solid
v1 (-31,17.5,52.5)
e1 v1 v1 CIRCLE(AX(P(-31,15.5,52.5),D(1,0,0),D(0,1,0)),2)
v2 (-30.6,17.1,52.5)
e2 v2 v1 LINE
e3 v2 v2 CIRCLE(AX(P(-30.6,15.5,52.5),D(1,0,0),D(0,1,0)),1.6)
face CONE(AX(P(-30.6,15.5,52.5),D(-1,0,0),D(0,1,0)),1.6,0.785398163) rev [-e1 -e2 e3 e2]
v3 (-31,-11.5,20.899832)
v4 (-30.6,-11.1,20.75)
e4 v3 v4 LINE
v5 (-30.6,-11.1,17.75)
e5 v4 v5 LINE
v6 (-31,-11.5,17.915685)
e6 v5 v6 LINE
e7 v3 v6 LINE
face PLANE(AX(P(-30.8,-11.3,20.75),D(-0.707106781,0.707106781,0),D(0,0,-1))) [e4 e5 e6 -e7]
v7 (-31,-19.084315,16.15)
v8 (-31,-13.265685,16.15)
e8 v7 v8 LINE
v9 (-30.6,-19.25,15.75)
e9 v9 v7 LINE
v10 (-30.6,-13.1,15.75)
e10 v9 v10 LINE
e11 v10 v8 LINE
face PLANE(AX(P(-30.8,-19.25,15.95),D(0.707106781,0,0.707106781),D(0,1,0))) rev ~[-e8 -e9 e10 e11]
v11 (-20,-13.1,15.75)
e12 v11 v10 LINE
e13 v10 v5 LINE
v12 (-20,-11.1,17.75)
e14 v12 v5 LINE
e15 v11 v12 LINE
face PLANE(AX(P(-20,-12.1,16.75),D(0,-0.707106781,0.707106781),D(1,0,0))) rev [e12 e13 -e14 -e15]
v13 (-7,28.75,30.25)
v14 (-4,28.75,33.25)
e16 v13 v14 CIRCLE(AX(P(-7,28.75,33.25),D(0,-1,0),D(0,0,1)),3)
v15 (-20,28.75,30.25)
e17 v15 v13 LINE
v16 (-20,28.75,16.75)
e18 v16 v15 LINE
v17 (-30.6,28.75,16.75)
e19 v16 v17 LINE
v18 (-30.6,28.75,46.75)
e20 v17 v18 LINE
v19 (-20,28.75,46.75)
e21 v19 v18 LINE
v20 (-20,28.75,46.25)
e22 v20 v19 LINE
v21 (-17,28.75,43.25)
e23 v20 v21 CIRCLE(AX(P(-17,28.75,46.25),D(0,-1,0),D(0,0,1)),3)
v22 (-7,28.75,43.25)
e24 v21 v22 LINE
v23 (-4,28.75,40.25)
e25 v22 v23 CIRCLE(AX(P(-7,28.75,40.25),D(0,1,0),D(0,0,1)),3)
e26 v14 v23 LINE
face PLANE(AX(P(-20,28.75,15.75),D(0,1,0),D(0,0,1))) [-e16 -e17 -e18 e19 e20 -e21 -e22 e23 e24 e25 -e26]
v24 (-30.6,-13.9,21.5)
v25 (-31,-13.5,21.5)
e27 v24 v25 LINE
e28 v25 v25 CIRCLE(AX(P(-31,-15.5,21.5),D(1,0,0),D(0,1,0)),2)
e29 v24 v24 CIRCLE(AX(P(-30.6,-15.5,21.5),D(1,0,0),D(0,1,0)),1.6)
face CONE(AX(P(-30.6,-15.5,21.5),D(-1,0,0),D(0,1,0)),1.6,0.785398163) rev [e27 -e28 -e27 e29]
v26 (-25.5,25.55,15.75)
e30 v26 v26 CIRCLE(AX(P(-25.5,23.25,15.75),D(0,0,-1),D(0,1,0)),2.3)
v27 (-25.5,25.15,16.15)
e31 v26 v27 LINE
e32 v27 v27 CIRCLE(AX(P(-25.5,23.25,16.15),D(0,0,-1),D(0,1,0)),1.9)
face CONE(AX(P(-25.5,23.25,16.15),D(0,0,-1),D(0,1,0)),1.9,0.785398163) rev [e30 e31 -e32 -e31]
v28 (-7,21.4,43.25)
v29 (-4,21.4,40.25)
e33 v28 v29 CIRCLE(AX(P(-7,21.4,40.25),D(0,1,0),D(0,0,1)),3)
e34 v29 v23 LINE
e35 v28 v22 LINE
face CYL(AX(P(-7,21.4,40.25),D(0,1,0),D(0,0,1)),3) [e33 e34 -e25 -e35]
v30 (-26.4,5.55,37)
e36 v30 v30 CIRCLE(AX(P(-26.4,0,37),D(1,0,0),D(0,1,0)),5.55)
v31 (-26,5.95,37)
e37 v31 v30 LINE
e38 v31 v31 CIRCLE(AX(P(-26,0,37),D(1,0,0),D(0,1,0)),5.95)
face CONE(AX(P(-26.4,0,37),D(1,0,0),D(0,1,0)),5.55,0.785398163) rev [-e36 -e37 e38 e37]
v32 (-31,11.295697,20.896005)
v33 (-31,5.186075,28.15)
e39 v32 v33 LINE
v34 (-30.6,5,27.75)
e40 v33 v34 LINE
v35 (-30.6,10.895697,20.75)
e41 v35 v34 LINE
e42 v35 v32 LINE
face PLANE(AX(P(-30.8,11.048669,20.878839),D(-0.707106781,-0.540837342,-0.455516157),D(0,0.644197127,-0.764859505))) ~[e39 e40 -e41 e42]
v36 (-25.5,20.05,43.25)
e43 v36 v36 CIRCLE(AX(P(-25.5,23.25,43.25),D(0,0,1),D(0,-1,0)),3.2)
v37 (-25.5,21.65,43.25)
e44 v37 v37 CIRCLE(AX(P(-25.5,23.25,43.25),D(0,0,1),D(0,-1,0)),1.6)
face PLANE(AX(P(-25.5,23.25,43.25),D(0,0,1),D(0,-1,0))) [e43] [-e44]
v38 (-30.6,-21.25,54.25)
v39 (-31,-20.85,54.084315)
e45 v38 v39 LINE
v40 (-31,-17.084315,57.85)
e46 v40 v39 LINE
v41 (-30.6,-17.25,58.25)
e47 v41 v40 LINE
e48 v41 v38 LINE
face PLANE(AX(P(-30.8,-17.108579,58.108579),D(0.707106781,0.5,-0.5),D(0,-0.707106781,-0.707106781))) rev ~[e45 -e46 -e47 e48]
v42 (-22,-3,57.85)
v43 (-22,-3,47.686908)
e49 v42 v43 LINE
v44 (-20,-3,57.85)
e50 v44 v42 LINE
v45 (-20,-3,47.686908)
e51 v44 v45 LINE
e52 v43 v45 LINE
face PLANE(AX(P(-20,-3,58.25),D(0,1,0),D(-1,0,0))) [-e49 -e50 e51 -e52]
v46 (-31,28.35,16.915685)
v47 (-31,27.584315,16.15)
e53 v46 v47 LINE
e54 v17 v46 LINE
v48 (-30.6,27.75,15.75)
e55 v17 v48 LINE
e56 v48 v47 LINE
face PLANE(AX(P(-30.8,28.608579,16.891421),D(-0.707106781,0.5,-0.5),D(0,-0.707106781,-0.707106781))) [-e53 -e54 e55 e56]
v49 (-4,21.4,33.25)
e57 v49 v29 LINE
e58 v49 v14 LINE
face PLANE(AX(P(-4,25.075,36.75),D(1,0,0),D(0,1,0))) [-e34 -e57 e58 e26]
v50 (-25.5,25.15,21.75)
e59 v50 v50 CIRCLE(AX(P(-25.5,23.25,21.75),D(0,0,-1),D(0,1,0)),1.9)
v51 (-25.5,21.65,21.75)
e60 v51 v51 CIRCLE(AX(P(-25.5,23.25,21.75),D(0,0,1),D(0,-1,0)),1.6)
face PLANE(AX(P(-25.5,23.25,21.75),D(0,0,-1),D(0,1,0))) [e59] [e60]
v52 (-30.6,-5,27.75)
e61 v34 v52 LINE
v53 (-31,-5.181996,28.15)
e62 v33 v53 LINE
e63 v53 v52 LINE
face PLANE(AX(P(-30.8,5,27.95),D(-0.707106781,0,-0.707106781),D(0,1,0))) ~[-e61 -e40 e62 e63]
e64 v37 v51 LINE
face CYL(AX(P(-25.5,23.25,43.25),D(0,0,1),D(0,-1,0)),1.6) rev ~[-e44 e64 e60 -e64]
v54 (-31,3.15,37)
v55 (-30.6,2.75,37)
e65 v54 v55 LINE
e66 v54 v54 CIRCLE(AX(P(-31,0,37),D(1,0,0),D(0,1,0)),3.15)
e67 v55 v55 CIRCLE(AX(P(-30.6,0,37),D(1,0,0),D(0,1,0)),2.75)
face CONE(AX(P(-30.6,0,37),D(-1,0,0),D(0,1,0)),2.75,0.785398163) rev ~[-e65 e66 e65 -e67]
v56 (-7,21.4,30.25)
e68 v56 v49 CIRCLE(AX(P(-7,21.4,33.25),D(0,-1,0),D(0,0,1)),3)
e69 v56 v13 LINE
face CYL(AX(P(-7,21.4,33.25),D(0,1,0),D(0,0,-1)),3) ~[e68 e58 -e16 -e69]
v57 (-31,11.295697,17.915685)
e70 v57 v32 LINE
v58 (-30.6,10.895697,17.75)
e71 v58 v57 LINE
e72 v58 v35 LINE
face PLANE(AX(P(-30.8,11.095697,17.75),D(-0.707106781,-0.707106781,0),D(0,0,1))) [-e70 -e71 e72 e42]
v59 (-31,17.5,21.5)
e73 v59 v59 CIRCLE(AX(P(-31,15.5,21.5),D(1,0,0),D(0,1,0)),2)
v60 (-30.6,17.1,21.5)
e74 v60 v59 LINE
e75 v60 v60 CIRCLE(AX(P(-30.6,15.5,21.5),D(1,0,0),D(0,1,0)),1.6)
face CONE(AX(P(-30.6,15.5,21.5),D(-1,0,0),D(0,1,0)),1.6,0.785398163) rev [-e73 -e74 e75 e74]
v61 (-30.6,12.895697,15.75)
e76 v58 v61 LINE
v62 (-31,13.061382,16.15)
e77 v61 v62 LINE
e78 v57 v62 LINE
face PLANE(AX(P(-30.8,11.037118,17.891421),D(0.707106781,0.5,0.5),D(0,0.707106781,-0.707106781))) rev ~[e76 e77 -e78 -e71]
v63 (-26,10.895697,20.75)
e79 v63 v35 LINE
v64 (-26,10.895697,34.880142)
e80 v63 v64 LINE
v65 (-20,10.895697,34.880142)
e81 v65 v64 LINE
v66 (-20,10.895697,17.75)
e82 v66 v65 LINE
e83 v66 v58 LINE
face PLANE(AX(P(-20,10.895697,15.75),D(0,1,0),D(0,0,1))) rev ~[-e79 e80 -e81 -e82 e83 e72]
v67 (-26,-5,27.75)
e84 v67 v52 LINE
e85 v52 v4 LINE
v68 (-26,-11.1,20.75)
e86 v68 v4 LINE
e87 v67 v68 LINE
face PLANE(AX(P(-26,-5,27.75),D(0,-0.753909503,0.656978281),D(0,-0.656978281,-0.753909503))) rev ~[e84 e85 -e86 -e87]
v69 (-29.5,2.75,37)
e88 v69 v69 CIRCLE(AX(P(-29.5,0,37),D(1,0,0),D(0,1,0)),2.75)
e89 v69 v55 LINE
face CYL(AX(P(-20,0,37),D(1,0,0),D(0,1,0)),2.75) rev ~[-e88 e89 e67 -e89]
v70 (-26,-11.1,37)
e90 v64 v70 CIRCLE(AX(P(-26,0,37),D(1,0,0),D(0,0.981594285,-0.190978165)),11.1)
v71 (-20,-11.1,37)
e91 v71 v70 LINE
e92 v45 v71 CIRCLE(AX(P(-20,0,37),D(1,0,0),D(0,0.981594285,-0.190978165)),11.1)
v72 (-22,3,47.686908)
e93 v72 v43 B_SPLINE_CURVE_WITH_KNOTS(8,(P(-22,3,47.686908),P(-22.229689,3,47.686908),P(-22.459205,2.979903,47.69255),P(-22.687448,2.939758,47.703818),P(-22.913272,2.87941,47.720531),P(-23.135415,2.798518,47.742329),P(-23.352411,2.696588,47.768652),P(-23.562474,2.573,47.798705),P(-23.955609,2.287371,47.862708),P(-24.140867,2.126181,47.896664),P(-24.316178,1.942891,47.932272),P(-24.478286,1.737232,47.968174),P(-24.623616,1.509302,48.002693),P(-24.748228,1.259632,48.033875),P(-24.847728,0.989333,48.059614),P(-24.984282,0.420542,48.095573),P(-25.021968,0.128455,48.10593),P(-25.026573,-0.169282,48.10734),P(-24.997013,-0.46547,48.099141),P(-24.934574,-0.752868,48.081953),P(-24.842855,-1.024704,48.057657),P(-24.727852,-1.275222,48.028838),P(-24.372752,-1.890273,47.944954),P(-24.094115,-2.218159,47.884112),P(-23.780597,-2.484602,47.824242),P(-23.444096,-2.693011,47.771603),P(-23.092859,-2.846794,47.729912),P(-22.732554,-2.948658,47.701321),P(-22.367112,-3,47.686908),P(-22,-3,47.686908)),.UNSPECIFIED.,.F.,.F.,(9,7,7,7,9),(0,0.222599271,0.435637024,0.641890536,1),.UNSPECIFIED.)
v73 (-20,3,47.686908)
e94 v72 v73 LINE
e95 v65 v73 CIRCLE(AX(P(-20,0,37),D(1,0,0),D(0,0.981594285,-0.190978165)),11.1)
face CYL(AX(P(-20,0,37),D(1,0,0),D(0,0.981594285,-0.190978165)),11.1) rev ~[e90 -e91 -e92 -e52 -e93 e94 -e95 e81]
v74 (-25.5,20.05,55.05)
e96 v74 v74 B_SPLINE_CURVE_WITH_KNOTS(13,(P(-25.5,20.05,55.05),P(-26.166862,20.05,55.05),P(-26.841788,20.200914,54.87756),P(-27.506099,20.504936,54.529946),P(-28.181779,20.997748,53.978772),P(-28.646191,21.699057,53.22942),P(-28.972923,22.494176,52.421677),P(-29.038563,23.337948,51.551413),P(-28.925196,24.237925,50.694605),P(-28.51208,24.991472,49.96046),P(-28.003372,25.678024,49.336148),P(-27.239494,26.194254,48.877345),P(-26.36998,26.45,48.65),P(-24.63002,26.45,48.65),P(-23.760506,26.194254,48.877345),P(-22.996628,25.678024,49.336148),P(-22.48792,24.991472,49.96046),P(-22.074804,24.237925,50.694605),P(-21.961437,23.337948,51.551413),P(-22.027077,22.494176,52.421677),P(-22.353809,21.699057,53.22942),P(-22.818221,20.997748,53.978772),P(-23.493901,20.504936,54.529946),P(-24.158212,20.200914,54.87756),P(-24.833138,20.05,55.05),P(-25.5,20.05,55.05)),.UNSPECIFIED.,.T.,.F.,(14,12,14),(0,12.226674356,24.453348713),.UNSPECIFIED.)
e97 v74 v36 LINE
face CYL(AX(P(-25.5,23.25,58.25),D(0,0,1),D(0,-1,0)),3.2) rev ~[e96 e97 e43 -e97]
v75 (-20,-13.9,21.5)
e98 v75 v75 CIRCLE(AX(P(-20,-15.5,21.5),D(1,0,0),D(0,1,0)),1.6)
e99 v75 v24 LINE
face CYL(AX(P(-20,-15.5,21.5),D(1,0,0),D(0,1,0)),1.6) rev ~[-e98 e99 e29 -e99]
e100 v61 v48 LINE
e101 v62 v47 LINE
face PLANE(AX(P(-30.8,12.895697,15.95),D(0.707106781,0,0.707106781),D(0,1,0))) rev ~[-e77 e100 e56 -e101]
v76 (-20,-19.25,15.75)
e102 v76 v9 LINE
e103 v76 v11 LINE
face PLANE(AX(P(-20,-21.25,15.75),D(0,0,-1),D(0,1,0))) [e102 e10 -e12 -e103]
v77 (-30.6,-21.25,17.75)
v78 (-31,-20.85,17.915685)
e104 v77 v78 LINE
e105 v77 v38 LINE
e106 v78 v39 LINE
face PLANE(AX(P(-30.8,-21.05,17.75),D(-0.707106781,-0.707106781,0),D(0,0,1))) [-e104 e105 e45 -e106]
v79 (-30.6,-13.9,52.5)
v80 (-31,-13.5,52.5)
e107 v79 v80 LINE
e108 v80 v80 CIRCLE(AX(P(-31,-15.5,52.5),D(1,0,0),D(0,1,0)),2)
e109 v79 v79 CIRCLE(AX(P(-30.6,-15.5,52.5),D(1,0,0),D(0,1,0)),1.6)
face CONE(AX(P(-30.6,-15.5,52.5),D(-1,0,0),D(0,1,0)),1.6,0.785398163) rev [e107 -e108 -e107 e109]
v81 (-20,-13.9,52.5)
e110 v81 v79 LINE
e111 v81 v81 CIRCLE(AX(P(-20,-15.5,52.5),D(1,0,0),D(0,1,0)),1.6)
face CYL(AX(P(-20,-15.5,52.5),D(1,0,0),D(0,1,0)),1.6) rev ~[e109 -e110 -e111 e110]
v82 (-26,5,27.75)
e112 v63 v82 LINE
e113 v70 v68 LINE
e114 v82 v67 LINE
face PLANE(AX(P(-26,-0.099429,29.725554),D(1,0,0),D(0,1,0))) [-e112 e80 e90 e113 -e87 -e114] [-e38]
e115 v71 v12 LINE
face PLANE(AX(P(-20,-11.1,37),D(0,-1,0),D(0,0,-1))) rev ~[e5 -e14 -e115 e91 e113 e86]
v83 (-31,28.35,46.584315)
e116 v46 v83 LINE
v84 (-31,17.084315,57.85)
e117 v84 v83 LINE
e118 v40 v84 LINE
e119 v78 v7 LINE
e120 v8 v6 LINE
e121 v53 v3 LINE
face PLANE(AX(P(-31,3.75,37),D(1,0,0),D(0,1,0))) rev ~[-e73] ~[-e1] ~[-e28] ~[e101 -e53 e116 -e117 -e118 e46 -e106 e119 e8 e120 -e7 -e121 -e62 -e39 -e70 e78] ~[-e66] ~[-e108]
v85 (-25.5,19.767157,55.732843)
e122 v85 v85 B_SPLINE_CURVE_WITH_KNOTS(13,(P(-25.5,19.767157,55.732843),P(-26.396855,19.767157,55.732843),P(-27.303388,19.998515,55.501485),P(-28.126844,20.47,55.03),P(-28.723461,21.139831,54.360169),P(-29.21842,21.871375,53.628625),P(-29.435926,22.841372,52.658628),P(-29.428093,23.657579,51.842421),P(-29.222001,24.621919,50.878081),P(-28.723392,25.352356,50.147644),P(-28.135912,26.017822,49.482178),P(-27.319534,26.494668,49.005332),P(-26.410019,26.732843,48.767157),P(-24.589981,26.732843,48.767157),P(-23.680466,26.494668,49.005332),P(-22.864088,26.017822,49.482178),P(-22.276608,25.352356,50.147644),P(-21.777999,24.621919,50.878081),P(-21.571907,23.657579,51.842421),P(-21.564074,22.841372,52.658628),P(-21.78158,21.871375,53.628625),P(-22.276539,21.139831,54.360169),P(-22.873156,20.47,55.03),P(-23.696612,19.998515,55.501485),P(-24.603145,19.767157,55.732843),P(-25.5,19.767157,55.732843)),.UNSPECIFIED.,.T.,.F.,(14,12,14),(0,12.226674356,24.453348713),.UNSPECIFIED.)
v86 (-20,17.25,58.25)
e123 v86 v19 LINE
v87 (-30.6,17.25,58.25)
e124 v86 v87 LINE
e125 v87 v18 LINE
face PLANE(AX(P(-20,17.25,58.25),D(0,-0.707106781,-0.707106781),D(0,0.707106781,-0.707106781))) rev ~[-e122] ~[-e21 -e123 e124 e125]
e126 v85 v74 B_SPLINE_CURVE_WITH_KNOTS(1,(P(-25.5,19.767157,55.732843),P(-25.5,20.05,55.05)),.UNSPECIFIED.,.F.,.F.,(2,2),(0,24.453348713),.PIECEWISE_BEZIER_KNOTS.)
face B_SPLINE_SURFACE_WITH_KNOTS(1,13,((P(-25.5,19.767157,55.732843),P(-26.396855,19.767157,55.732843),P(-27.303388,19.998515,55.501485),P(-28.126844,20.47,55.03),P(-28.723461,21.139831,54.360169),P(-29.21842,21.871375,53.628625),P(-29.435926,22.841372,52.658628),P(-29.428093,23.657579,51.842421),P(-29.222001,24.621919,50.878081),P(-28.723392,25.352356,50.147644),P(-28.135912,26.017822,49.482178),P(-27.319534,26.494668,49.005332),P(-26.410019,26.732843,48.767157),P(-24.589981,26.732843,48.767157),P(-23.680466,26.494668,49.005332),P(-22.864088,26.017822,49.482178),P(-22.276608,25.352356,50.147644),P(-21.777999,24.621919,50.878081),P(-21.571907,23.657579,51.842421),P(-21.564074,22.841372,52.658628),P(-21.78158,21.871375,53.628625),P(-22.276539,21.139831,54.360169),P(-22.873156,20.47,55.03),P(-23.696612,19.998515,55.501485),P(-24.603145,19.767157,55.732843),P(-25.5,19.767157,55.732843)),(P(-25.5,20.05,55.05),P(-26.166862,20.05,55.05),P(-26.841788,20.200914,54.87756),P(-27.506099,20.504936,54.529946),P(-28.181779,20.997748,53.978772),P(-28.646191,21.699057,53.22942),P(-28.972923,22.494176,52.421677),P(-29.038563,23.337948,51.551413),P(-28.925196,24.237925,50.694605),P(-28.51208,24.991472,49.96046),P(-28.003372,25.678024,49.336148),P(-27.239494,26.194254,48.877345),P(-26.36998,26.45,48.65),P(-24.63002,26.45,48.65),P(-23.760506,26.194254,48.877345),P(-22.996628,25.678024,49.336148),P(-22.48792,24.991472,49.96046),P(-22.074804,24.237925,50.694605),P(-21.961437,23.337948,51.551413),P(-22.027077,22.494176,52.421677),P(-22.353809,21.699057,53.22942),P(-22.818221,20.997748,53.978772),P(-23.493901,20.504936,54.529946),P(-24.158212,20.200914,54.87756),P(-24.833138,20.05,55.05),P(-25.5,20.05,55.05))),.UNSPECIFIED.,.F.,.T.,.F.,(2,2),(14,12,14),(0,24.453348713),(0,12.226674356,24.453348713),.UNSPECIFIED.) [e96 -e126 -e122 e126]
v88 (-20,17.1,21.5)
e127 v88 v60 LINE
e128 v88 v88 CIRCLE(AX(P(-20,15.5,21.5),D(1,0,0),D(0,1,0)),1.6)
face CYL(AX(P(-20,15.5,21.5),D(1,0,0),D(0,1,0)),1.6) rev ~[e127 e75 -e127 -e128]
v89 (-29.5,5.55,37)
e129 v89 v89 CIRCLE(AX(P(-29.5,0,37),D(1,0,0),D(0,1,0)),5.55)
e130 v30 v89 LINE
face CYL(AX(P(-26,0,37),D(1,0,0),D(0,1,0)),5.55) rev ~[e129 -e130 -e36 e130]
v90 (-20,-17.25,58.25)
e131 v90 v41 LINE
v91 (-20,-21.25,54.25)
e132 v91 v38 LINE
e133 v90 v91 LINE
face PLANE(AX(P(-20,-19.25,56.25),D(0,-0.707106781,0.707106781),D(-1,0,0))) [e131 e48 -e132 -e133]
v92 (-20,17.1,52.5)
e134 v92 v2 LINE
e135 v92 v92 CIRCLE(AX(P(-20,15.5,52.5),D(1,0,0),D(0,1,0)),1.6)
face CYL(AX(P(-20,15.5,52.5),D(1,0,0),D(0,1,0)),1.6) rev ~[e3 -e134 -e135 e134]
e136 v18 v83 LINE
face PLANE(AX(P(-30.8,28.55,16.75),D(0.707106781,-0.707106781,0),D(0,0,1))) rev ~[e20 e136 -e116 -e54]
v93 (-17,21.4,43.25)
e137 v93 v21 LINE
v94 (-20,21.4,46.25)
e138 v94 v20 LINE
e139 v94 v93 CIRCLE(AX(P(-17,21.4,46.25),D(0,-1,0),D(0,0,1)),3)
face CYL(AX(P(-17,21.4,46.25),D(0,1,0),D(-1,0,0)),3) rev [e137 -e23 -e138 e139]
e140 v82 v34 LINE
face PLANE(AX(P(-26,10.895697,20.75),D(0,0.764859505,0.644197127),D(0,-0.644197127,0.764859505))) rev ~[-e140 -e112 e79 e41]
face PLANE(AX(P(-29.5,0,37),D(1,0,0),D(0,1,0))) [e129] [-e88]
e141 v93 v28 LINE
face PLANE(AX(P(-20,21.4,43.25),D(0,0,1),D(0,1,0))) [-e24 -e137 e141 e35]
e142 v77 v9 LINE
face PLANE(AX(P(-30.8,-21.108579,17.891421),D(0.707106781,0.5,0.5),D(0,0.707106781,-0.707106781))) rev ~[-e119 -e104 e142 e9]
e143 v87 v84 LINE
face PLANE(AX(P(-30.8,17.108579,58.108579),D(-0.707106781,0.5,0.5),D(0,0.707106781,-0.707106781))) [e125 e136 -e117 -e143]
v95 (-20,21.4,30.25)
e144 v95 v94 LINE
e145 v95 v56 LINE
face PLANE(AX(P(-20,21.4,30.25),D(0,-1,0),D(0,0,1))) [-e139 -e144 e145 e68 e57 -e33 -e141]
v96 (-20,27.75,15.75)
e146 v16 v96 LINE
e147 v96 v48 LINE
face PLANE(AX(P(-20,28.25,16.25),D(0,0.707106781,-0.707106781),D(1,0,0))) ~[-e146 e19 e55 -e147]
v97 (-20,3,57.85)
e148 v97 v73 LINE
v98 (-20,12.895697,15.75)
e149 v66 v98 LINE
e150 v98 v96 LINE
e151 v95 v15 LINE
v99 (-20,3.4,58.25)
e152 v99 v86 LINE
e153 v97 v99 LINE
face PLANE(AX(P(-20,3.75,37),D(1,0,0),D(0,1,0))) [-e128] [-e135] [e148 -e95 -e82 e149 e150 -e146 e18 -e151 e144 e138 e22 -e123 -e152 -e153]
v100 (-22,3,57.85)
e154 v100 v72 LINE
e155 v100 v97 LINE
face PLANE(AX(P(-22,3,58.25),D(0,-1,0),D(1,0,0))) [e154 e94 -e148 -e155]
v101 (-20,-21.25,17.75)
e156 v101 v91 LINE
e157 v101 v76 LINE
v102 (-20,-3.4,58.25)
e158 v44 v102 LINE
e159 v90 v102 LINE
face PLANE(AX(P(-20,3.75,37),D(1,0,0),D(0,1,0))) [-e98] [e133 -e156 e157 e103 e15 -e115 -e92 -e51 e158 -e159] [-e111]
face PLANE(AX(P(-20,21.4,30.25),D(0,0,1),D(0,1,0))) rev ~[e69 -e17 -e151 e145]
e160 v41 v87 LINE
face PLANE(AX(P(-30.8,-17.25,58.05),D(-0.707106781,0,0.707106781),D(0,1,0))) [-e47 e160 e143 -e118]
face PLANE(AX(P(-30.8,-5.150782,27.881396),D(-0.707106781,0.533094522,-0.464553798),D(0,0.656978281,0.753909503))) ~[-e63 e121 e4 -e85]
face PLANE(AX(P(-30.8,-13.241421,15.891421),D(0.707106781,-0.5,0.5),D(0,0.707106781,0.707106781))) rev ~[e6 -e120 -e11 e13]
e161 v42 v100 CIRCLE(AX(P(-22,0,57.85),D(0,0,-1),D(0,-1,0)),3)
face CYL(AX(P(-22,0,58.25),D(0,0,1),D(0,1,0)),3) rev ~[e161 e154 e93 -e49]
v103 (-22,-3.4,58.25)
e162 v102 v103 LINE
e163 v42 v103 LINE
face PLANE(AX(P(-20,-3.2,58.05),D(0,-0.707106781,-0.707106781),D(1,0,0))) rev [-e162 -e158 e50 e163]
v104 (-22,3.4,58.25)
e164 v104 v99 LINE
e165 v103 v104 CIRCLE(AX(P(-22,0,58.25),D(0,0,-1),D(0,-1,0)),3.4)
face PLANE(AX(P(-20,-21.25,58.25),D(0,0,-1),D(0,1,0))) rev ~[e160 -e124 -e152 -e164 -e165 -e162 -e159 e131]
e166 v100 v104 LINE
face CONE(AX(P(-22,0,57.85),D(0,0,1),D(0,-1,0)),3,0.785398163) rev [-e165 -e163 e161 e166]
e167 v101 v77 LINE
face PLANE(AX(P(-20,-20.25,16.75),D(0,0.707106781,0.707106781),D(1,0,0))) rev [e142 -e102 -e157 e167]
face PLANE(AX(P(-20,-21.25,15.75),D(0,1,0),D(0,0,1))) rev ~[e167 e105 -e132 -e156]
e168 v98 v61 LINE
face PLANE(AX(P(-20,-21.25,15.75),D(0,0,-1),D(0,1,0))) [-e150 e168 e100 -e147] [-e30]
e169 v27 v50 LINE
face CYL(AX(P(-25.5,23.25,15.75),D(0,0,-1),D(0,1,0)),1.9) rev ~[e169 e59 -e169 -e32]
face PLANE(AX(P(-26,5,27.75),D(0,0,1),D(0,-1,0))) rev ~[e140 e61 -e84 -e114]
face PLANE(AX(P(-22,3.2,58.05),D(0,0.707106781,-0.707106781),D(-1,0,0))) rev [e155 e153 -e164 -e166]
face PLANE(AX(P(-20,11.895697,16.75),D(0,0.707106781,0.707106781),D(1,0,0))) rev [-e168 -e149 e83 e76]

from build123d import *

# Parameters (mm, degrees)
SKETCH018_W        = 50
SKETCH018_H        = 42.5
SKETCH018_R        = 2.75
SKETCH018_R_2      = 1.6
PAD008_DEPTH       = 11
SKETCH027_R        = 3.2
POCKET012_DEPTH    = 15
SKETCH028_R        = 1.6
POCKET013_DEPTH    = 27.501
SKETCH029_W        = 7.35
SKETCH029_H        = 13
PAD009_DEPTH       = 16
POCKET014_DEPTH    = 11.001
FILLET_R           = 3
POCKET015_DEPTH    = 6
POCKET016_DEPTH    = 5.001
CHAMFER003011_SIZE = 4
CHAMFER003012_SIZE = 2
SKETCH033_R        = 1.9
POCKET017_DEPTH    = 6
CHAMFER003013_SIZE = 1
CHAMFER003014_SIZE = 0.4
POCKET020_DEPTH    = 11
CHAMFER003016_SIZE = 0.4
SKETCH038_R        = 5.55
POCKET021_DEPTH    = 3.5
CHAMFER003017_SIZE = 0.4


with BuildPart() as part:
    # Sketch018 → Pad008 (new body)
    with BuildSketch(Plane.YZ):
        with Locations((3.75, 37)):
            Rectangle(SKETCH018_W, SKETCH018_H)
        with Locations((0, 37)):
            Circle(SKETCH018_R, mode=Mode.SUBTRACT)
        with Locations((-15.5, 52.5)):
            Circle(SKETCH018_R_2, mode=Mode.SUBTRACT)
        with Locations((-15.5, 21.5)):
            Circle(SKETCH018_R_2, mode=Mode.SUBTRACT)
        with Locations((15.5, 21.5)):
            Circle(SKETCH018_R_2, mode=Mode.SUBTRACT)
        with Locations((15.5, 52.5)):
            Circle(SKETCH018_R_2, mode=Mode.SUBTRACT)
    extrude(amount=-PAD008_DEPTH)

    # Sketch027 (on Face4 of Pad008) → Pocket012 (cut)
    with BuildSketch(Plane(origin=(0, 0, 58.25), x_dir=(0, -1, 0), z_dir=(0, 0, 1))):
        with Locations((-23.25, -5.5)):
            Circle(SKETCH027_R)
    extrude(amount=-POCKET012_DEPTH, mode=Mode.SUBTRACT)

    # Sketch028 (on Face13 of Pocket012) → Pocket013 (cut, through all)
    with BuildSketch(Plane(origin=(0, 0, 43.25), x_dir=(0, -1, 0), z_dir=(0, 0, 1))):
        with Locations((-23.25, -5.5)):
            Circle(SKETCH028_R)
    extrude(amount=-POCKET013_DEPTH, mode=Mode.SUBTRACT)

    # Sketch029 (on Face4 of Pocket013) → Pad009 (join)
    with BuildSketch(Plane.YZ):
        with Locations((25.075, 36.75)):
            Rectangle(SKETCH029_W, SKETCH029_H)
    extrude(amount=PAD009_DEPTH)

    # Sketch030 (on Face4 of Pad009) → Pocket014 (cut, through all)
    with BuildSketch(Plane.YZ):
        Polygon((17.25, 58.25), (28.75, 46.75), (28.75, 58.25), align=None)
    extrude(amount=-POCKET014_DEPTH, mode=Mode.SUBTRACT)

    # Fillet
    fillet_edges = [part.edges().sort_by_distance(p)[0] for p in [
        (0, 25.075, 43.25),
        (16, 25.075, 43.25),
        (16, 25.075, 30.25),
    ]]
    fillet(fillet_edges, radius=FILLET_R)

    # Sketch031 (on Face1 of Fillet) → Pocket015 (cut)
    with BuildSketch(Plane.YZ):
        with BuildLine():
            ThreePointArc((10.895697, 34.880142), (1.06484, 48.048806), (-11.1, 37))
            Line((-11.1, 37), (-11.1, 15.75))
            Line((-11.1, 15.75), (10.895697, 15.75))
            Line((10.895697, 15.75), (10.895697, 34.880142))
        make_face()
    extrude(amount=-POCKET015_DEPTH, mode=Mode.SUBTRACT)

    # Sketch032 (on Face23 of Pocket015) → Pocket016 (cut, through all)
    with BuildSketch(Plane.YZ.offset(-6)):
        Polygon((-11.1, 15.75), (10.895697, 15.75), (10.895697, 20.75), (5, 27.75), (-5, 27.75), (-11.1, 20.75), align=None)
    extrude(amount=-POCKET016_DEPTH, mode=Mode.SUBTRACT)

    # Chamfer003011
    chamfer003011_edges = [part.edges().sort_by_distance(p)[0] for p in [
        (-5.5, -21.25, 58.25),
    ]]
    chamfer(chamfer003011_edges, length=CHAMFER003011_SIZE)

    # Chamfer003012
    chamfer003012_edges = [part.edges().sort_by_distance(p)[0] for p in [
        (-8.5, 10.895697, 15.75),
        (-8.5, -11.1, 15.75),
        (-5.5, -21.25, 15.75),
    ]]
    chamfer(chamfer003012_edges, length=CHAMFER003012_SIZE)

    # Sketch033 (on Face16 of Chamfer003012) → Pocket017 (cut)
    with BuildSketch(Plane.YX.offset(-15.75)):
        with Locations((23.25, -5.5)):
            Circle(SKETCH033_R)
    extrude(amount=-POCKET017_DEPTH, mode=Mode.SUBTRACT)

    # Chamfer003013
    chamfer003013_edges = [part.edges().sort_by_distance(p)[0] for p in [
        (-5.5, 28.75, 15.75),
    ]]
    chamfer(chamfer003013_edges, length=CHAMFER003013_SIZE)

    # Chamfer003014
    chamfer003014_edges = [part.edges().sort_by_distance(p)[0] for p in [
        (-11, 28.75, 31.75),
        (-11, 28.25, 16.25),
        (-11, 23, 52.5),
        (-11, 20.322848, 15.75),
        (-11, 0, 58.25),
        (-11, 11.895697, 16.75),
        (-11, -19.25, 56.25),
        (-11, 10.895697, 19.25),
        (-11, -21.25, 36),
        (-11, 7.947848, 24.25),
        (-11, -20.25, 16.75),
        (-11, 0, 27.75),
        (-11, -16.175, 15.75),
        (-11, -8.05, 24.25),
        (-11, -12.1, 16.75),
        (-11, -11.1, 19.25),
        (-11, 13.9, 21.5),
        (-11, 13.9, 52.5),
        (-11, -17.1, 21.5),
        (-11, -2.75, 37),
        (-11, -17.1, 52.5),
        (-5.5, 21.35, 15.75),
        (-5.497959, 26.449999, 49.050001),
    ]]
    chamfer(chamfer003014_edges, length=CHAMFER003014_SIZE)

    # Sketch037 (on Face23 of Chamfer003014) → Pocket020 (cut)
    with BuildSketch(Plane(origin=(0, 0, 58.25), x_dir=(0, -1, 0), z_dir=(0, 0, 1))):
        with BuildLine():
            ThreePointArc((-3, -2), (0, -5), (3, -2))
            Line((3, 0), (3, -2))
            Line((-3, 0), (3, 0))
            Line((-3, -2), (-3, 0))
        make_face()
    extrude(amount=-POCKET020_DEPTH, mode=Mode.SUBTRACT)

    # Chamfer003016
    chamfer003016_edges = [part.edges().sort_by_distance(p)[0] for p in [
        (-1, 3, 58.25),
        (-5, 0, 58.25),
        (-1, -3, 58.25),
    ]]
    chamfer(chamfer003016_edges, length=CHAMFER003016_SIZE)

    # Sketch038 (on Face22 of Chamfer003016) → Pocket021 (cut)
    with BuildSketch(Plane.YZ.offset(-6)):
        with Locations((0, 37)):
            Circle(SKETCH038_R)
    extrude(amount=-POCKET021_DEPTH, mode=Mode.SUBTRACT)

    # Chamfer003017
    chamfer003017_edges = [part.edges().sort_by_distance(p)[0] for p in [
        (-6, -5.55, 37),
    ]]
    chamfer(chamfer003017_edges, length=CHAMFER003017_SIZE)


with BuildPart() as part_1:
    # Body005019 placement: moved
    add(part.part.moved(Location((-20, 0, 0))))


solid = part_1.part
